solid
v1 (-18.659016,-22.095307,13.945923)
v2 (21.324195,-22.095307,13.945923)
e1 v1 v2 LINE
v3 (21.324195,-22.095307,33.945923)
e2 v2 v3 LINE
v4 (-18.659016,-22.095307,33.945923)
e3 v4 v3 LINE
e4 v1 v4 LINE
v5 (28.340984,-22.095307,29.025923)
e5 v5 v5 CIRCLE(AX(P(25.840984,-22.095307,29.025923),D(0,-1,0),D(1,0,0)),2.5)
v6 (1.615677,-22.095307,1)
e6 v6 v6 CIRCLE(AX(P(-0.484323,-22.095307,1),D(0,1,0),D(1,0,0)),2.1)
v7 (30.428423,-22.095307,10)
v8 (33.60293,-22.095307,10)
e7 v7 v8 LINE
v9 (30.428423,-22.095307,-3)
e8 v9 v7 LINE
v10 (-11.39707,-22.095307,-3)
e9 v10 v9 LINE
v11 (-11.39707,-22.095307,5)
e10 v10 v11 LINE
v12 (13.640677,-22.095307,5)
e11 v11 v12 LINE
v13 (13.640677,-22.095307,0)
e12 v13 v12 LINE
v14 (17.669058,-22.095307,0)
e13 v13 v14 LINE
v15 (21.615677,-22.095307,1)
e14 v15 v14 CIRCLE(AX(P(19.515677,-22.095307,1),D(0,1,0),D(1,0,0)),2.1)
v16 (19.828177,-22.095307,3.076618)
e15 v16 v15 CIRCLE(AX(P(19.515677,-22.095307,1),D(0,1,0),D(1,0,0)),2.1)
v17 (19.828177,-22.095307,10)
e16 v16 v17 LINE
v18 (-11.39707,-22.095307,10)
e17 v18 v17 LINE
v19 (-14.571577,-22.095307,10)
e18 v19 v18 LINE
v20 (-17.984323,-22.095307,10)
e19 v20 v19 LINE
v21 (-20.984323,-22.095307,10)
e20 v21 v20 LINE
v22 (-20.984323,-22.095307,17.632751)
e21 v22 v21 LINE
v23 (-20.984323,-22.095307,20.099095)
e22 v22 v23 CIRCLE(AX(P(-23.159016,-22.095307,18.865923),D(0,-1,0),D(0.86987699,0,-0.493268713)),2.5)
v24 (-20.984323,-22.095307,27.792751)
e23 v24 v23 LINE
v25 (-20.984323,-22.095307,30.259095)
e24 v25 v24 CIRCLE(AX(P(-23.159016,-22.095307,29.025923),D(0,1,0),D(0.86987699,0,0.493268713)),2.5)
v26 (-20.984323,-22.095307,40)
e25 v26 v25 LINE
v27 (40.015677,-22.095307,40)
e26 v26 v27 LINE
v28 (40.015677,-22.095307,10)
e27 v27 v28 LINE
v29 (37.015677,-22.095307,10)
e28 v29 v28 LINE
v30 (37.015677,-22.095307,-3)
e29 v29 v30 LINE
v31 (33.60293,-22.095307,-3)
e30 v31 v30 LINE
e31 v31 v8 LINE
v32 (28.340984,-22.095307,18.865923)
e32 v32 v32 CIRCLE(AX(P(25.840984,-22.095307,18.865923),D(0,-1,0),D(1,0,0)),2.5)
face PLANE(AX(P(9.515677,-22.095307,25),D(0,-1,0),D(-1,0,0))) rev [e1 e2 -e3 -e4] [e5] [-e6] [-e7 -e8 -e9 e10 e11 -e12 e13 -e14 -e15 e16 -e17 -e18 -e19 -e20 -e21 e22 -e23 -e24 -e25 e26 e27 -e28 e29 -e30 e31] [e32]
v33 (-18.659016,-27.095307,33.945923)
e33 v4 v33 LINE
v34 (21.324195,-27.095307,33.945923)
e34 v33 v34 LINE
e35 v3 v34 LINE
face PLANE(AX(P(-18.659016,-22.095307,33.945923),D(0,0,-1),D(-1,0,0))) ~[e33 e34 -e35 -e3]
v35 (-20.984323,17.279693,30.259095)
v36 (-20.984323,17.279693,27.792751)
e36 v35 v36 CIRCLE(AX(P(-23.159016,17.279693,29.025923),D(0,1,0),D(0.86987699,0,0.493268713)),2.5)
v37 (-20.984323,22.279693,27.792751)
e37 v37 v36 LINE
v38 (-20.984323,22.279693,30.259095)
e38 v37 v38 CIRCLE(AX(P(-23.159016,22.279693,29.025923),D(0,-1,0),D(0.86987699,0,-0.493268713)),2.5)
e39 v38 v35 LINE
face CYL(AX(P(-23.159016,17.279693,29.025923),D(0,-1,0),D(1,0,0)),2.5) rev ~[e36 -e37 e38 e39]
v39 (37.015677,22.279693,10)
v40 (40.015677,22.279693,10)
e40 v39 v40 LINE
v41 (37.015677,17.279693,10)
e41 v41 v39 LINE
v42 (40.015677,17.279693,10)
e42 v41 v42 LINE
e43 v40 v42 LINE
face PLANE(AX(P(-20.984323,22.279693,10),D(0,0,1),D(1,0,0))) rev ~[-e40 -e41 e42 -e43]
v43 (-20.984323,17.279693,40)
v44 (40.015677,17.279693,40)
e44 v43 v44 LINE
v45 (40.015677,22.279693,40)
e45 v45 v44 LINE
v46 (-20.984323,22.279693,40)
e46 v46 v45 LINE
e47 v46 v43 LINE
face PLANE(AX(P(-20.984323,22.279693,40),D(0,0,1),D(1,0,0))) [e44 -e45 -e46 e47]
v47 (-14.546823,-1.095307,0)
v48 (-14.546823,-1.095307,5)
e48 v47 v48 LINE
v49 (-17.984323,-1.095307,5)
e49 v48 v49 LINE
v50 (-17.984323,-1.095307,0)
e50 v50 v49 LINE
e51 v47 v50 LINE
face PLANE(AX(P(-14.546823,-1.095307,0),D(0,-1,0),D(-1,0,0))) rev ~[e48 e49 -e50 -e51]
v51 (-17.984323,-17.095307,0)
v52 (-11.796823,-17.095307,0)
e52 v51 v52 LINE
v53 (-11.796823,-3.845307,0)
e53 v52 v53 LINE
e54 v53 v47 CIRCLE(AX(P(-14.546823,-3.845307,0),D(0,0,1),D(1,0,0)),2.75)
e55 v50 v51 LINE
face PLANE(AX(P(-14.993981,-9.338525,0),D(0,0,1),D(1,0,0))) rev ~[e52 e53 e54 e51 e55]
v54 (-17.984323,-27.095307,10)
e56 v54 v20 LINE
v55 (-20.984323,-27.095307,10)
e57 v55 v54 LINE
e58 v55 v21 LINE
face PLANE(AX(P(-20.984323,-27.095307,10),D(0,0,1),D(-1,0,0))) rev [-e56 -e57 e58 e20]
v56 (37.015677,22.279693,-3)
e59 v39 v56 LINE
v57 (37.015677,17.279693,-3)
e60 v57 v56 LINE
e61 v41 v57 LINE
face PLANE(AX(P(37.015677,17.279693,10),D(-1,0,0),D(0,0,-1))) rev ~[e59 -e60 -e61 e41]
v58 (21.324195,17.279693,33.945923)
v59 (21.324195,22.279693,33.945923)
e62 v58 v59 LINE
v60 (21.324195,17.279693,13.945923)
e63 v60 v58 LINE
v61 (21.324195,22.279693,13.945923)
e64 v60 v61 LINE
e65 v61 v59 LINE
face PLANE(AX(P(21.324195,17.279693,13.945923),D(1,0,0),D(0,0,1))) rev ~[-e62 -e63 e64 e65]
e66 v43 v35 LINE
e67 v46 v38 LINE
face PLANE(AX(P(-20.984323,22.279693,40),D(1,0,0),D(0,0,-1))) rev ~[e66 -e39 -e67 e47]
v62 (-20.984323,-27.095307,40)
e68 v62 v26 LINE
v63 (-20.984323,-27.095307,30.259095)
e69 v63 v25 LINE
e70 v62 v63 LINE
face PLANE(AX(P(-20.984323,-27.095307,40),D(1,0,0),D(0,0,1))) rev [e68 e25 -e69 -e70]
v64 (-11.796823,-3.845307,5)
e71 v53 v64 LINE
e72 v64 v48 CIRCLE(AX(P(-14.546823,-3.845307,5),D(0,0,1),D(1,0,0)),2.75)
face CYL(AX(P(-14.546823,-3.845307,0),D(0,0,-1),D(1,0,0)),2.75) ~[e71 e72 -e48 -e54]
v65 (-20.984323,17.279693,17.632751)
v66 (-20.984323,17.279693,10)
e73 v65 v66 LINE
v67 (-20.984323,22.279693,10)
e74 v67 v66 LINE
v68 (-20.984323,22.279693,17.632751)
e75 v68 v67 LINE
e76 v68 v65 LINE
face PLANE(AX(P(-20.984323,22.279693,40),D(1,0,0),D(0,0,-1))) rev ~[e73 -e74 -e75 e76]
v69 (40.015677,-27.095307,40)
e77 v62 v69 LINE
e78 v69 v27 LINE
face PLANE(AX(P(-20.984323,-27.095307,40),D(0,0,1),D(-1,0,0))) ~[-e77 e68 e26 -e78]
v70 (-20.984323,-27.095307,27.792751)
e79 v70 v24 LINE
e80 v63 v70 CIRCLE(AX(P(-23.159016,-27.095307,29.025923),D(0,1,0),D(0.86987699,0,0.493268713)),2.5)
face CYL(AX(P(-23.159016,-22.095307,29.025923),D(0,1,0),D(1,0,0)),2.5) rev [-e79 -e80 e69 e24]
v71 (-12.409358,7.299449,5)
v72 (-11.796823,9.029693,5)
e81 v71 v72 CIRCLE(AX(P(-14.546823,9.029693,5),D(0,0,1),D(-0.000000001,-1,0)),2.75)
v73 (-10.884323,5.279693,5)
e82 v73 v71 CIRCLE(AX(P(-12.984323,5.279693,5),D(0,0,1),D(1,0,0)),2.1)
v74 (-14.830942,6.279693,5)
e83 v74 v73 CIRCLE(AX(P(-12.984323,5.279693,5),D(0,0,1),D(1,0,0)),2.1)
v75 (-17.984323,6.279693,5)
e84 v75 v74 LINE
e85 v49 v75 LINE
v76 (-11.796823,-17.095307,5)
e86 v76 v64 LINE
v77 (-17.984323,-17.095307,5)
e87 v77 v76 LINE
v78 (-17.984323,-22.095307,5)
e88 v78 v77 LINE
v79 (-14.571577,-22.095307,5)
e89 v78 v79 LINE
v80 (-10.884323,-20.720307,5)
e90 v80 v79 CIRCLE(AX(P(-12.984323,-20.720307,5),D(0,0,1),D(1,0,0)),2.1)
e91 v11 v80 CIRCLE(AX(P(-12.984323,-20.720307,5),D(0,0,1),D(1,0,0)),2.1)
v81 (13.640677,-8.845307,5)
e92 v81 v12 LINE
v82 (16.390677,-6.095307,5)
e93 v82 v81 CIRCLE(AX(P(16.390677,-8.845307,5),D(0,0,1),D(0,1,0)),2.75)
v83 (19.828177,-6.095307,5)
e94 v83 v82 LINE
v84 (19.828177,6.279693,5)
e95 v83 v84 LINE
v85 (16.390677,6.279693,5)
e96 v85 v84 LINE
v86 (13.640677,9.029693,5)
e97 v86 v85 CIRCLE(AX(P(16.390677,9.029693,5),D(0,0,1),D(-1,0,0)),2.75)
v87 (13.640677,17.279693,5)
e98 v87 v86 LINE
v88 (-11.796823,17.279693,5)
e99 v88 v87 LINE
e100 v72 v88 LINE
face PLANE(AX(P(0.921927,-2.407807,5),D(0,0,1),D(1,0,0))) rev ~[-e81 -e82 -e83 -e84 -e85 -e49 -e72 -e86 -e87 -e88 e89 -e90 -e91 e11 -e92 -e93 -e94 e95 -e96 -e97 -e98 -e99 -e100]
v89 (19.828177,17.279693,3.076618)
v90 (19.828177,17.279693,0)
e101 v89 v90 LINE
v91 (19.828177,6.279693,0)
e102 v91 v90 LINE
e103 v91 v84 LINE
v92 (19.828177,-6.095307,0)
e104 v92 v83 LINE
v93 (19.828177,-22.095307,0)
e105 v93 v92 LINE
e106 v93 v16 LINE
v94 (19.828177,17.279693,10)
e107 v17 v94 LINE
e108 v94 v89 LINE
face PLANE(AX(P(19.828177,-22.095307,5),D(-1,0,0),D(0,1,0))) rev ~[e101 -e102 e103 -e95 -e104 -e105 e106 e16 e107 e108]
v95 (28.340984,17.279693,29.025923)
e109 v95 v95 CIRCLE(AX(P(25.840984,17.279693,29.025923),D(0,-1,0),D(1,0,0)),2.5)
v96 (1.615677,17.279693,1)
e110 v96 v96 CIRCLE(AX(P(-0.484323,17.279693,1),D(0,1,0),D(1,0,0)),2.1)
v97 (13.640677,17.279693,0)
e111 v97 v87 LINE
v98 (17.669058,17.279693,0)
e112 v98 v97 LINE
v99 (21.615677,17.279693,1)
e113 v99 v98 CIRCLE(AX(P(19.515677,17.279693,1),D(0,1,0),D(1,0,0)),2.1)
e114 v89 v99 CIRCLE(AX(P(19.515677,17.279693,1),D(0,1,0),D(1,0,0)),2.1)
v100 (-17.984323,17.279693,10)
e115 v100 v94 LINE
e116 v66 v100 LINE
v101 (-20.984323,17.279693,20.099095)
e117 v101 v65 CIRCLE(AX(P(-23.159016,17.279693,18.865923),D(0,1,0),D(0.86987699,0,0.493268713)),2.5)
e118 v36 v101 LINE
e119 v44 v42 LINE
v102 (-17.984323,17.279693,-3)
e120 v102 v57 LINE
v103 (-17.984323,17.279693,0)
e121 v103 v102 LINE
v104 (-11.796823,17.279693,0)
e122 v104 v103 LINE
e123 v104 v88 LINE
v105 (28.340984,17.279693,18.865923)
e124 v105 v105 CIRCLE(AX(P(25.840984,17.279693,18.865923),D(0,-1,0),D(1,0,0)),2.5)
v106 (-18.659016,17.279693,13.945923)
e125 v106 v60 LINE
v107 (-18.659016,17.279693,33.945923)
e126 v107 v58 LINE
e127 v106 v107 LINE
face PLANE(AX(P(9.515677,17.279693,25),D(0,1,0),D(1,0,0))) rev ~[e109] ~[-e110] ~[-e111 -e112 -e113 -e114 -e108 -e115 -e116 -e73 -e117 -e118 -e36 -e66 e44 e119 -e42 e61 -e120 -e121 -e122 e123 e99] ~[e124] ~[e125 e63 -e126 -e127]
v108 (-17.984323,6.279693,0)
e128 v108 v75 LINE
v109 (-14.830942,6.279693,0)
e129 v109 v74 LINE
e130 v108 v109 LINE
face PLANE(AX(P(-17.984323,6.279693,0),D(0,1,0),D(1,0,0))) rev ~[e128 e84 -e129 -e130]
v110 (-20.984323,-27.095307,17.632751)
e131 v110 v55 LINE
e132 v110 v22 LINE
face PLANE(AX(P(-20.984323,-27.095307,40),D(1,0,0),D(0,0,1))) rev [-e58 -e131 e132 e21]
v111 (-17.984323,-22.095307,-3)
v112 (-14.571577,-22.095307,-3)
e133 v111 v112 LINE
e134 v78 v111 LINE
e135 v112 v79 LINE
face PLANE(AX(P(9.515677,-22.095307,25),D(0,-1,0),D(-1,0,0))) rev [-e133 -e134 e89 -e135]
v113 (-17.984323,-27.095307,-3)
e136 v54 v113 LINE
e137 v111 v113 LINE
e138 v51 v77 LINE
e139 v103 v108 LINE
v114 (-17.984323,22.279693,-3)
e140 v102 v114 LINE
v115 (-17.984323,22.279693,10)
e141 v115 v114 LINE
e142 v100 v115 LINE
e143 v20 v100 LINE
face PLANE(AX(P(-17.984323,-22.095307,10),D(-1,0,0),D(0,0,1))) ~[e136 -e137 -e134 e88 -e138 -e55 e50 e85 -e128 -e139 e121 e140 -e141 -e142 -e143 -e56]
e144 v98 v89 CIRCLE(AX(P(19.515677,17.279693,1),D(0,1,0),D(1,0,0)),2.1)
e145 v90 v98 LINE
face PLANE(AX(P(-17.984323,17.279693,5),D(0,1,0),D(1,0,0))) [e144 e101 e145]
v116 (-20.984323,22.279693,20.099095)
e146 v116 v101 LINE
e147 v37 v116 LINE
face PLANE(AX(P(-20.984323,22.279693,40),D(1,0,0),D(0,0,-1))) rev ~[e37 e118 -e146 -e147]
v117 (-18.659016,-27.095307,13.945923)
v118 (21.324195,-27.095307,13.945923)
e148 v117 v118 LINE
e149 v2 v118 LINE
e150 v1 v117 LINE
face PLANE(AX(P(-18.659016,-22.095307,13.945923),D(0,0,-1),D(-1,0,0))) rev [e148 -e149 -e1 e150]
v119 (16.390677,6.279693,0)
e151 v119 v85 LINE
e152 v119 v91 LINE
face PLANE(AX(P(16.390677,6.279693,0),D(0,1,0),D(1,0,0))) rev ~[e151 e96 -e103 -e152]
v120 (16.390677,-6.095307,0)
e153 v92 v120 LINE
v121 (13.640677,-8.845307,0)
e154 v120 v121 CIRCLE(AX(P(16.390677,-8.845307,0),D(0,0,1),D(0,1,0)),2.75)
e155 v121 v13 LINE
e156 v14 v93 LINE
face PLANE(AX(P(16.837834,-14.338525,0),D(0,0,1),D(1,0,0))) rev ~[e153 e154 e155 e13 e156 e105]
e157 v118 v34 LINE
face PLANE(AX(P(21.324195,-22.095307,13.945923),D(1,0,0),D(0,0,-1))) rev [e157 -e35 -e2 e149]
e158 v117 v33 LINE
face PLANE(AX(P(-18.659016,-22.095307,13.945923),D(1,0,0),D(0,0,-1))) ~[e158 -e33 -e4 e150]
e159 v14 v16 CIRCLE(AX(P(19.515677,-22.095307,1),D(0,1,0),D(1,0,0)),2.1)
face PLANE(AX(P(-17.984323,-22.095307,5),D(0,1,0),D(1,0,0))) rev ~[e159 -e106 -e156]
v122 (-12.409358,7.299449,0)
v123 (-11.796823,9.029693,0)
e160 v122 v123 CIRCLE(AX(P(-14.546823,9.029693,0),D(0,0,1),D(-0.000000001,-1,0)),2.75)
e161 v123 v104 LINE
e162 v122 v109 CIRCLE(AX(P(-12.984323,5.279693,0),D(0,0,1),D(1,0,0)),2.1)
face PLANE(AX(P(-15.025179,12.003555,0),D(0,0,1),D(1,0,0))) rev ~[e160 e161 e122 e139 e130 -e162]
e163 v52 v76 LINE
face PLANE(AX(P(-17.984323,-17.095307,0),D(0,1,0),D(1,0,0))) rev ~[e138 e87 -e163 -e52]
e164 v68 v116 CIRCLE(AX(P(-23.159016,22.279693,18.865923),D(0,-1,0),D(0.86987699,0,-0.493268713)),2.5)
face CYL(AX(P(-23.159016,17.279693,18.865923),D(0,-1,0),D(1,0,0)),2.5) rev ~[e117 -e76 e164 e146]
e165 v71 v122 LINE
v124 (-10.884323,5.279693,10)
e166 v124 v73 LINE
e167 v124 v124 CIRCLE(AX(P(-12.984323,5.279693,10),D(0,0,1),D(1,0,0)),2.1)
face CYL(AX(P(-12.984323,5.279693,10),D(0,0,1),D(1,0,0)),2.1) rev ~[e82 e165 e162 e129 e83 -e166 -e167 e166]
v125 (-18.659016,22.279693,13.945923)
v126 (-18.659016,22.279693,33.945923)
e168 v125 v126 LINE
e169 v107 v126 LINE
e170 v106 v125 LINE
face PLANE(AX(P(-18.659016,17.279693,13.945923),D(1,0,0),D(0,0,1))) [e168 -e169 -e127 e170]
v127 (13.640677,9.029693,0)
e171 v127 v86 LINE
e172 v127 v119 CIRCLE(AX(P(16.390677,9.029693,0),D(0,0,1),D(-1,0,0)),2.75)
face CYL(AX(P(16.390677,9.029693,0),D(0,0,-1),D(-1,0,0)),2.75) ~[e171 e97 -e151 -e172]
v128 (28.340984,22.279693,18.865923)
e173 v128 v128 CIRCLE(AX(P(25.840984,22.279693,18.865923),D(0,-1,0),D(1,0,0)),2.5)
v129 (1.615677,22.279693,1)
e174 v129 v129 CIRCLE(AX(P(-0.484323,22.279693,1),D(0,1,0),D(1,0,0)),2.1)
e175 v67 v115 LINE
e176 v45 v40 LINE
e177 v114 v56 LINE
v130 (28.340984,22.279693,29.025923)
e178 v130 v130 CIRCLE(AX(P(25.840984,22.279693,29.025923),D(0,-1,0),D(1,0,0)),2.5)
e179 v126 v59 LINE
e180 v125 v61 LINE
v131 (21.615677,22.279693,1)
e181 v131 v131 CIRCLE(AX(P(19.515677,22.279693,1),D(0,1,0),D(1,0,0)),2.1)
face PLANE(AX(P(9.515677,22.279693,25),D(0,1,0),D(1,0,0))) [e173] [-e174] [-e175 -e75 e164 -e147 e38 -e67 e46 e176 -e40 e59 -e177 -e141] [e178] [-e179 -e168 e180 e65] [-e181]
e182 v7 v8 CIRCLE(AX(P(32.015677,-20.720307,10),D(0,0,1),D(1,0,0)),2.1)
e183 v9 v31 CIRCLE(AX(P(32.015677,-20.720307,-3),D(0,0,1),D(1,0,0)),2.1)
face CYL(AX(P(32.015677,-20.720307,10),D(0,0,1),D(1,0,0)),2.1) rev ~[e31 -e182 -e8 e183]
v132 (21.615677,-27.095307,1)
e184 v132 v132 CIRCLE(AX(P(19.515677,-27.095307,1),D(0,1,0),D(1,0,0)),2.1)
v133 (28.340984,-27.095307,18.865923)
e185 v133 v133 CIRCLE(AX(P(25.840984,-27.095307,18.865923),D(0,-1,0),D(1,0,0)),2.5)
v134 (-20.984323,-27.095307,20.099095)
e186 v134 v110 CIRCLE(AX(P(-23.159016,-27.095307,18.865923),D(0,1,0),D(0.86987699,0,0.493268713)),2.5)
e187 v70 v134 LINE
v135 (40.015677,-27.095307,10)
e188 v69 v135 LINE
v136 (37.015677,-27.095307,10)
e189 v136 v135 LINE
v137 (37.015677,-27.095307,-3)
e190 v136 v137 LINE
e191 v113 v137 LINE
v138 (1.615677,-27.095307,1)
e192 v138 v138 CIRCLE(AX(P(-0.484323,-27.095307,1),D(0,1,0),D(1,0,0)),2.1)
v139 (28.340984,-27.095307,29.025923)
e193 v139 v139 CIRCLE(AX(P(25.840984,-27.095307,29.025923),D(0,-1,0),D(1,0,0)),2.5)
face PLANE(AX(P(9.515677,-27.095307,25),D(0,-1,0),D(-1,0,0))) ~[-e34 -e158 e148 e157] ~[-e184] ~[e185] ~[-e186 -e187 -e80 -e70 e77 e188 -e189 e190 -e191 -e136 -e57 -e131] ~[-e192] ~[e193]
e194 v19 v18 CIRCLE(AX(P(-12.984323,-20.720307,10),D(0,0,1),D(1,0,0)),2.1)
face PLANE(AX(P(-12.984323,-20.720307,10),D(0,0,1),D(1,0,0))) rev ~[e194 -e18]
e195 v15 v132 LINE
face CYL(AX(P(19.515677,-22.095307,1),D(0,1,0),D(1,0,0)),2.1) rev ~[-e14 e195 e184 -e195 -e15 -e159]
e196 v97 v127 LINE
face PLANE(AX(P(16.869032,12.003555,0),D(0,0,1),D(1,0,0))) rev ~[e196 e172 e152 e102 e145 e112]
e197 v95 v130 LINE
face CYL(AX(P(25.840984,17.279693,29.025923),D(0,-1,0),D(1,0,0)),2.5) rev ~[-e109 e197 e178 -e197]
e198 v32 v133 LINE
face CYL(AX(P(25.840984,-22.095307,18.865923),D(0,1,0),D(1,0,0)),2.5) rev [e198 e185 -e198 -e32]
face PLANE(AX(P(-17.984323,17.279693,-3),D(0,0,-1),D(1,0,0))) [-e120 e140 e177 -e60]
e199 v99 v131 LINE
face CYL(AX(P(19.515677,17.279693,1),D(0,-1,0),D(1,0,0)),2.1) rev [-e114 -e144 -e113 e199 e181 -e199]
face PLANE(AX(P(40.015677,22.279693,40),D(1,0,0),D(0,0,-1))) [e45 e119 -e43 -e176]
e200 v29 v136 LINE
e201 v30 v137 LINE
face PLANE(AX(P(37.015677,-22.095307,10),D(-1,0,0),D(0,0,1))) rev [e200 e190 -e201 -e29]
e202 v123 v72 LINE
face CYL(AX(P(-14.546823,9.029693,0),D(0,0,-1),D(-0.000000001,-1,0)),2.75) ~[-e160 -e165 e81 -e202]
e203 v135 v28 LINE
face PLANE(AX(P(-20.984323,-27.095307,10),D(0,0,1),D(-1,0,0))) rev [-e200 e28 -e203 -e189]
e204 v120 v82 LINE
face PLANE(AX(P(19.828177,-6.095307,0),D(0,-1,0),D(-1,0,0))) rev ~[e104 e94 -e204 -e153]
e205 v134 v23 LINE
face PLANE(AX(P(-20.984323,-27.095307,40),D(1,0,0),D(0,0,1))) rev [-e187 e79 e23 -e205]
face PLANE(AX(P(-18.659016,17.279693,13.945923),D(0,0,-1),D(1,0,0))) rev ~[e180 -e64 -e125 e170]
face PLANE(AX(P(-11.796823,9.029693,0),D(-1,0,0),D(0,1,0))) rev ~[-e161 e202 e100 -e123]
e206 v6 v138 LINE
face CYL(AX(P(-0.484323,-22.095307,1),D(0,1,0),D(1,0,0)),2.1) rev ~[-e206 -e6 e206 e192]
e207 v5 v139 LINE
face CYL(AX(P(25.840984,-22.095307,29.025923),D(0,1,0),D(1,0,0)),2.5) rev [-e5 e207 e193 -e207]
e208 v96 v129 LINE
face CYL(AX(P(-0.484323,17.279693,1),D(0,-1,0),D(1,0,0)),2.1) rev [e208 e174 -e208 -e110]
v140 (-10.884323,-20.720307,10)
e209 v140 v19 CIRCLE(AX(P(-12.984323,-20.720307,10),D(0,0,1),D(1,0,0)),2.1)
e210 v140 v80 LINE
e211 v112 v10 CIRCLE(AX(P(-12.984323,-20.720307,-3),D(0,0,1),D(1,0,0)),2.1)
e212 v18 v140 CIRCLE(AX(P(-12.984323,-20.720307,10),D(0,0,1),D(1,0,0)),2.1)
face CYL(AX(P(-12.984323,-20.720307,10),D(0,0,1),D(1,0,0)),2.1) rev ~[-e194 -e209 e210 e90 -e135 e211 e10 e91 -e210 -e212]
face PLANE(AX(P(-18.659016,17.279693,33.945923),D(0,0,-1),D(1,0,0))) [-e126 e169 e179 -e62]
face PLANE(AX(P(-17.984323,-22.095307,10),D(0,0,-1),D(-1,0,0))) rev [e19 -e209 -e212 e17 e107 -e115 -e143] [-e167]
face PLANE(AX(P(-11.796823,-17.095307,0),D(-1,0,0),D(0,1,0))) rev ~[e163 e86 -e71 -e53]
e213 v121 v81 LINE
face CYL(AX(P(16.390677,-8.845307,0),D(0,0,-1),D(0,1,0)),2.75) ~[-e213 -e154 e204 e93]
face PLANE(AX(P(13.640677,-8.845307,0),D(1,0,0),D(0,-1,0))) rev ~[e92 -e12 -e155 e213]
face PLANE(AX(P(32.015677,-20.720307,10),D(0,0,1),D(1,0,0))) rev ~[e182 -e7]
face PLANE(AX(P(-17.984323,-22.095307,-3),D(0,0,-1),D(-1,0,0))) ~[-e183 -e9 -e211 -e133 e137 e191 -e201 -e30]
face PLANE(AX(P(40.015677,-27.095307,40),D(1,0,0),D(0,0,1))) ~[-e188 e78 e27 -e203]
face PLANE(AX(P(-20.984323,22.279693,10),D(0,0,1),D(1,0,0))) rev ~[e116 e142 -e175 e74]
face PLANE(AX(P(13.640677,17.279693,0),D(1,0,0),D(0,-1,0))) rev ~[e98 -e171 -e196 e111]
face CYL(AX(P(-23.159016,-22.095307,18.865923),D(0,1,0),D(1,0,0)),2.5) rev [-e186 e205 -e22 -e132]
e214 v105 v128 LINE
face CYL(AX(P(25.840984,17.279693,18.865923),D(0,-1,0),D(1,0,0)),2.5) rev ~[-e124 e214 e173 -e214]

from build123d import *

# Parameters (mm, degrees)
BOSS_EXTRUDE1_DEPTH   = 5
BOSS_EXTRUDE1_2_DEPTH = 5
BOSS_EXTRUDE1_3_DEPTH = 5
BOSS_EXTRUDE1_4_DEPTH = 5
SKETCH2_W             = 37.8125
SKETCH2_H             = 39.375
BOSS_EXTRUDE2_DEPTH   = 5
SKETCH3_W             = 55
SKETCH3_H             = 13
SKETCH3_R             = 2.1
BOSS_EXTRUDE3_DEPTH   = 5
SKETCH4_W             = 61
SKETCH4_H             = 30
BOSS_EXTRUDE4_DEPTH   = 5
SKETCH5_R             = 2.5
SKETCH5_W             = 39.983210939
SKETCH5_H             = 20
CUT_EXTRUDE3_DEPTH    = 5
SKETCH7_R             = 2.1
CUT_EXTRUDE4_DEPTH    = 14


with BuildPart() as part:
    # Sketch1 → Boss-Extrude1 (new body)
    with BuildSketch(Plane.XY):
        with BuildLine():
            Line((16.390676557, 6.279692656), (19.828176557, 6.279692656))
            Line((19.828176557, 6.279692656), (19.828176557, 17.279692656))
            Line((19.828176557, 17.279692656), (13.640676557, 17.279692656))
            Line((13.640676557, 17.279692656), (13.640676557, 9.029692656))
            ThreePointArc((13.640676557, 9.029692656), (14.446132909, 7.085149007), (16.390676557, 6.279692656))
        make_face()
    extrude(amount=BOSS_EXTRUDE1_DEPTH)



with BuildPart() as body_2:
    # Sketch1 → Boss-Extrude1 2 (new body)
    with BuildSketch(Plane.XY):
        with BuildLine():
            Line((-17.984323443, 6.279692656), (-14.546823443, 6.279692656))
            ThreePointArc((-14.546823443, 6.279692656), (-12.602279794, 7.085149007), (-11.796823443, 9.029692656))
            Line((-11.796823443, 9.029692656), (-11.796823443, 17.279692656))
            Line((-11.796823443, 17.279692656), (-17.984323443, 17.279692656))
            Line((-17.984323443, 17.279692656), (-17.984323443, 6.279692656))
        make_face()
    extrude(amount=BOSS_EXTRUDE1_2_DEPTH)


with BuildPart() as body_3:
    # Sketch1 → Boss-Extrude1 3 (new body)
    with BuildSketch(Plane.XY):
        with BuildLine():
            Line((19.828176557, -6.095307344), (16.390676557, -6.095307344))
            ThreePointArc((16.390676557, -6.095307344), (14.446132909, -6.900763696), (13.640676557, -8.845307344))
            Line((13.640676557, -8.845307344), (13.640676557, -22.095307344))
            Line((13.640676557, -22.095307344), (19.828176557, -22.095307344))
            Line((19.828176557, -22.095307344), (19.828176557, -6.095307344))
        make_face()
    extrude(amount=BOSS_EXTRUDE1_3_DEPTH)


with BuildPart() as body_4:
    # Sketch1 → Boss-Extrude1 4 (new body)
    with BuildSketch(Plane.XY):
        with BuildLine():
            Line((-11.796823443, -17.095307344), (-11.796823443, -3.845307344))
            ThreePointArc((-11.796823443, -3.845307344), (-12.602279794, -1.900763696), (-14.546823443, -1.095307344))
            Line((-14.546823443, -1.095307344), (-17.984323443, -1.095307344))
            Line((-17.984323443, -1.095307344), (-17.984323443, -17.095307344))
            Line((-17.984323443, -17.095307344), (-11.796823443, -17.095307344))
        make_face()
    extrude(amount=BOSS_EXTRUDE1_4_DEPTH)


with BuildPart() as part_1:
    add(part.part)

    add(body_2.part)  # Boss-Extrude2 merges body 2

    add(body_3.part)  # Boss-Extrude2 merges body 3

    add(body_4.part)  # Boss-Extrude2 merges body 4
    # Sketch2 → Boss-Extrude2 (add)
    with BuildSketch(Plane.XY.offset(5)):
        with Locations((0.921926557, -2.407807344)):
            Rectangle(SKETCH2_W, SKETCH2_H)
    extrude(amount=BOSS_EXTRUDE2_DEPTH)

    # Sketch3 → Boss-Extrude3 (add)
    with BuildSketch(Plane(origin=(0, 17.279692656, 0), x_dir=(1, 0, 0), z_dir=(0, 1, 0))):
        with Locations((9.515676557, -3.5)):
            Rectangle(SKETCH3_W, SKETCH3_H)
        with Locations((-0.484323443, -1)):
            Circle(SKETCH3_R, mode=Mode.SUBTRACT)
        with Locations((19.515676557, -1)):
            Circle(SKETCH3_R, mode=Mode.SUBTRACT)
    boss_extrude3 = extrude(amount=BOSS_EXTRUDE3_DEPTH)

    # Mirror1: Boss-Extrude3 across plane
    add(boss_extrude3.mirror(Plane(origin=(0, -2.407807344, 0), x_dir=(0, 0, 1), z_dir=(0, -1, 0))))

    # Sketch4 → Boss-Extrude4 (add)
    with BuildSketch(Plane(origin=(0, 22.279692656, 0), x_dir=(1, 0, 0), z_dir=(0, 1, 0))):
        with Locations((9.515676557, -25)):
            Rectangle(SKETCH4_W, SKETCH4_H)
    boss_extrude4 = extrude(amount=-BOSS_EXTRUDE4_DEPTH)

    # Mirror2: Boss-Extrude4 across plane
    add(boss_extrude4.mirror(Plane(origin=(0, -2.407807344, 0), x_dir=(0, 0, 1), z_dir=(0, -1, 0))))

    # Sketch5 → Cut-Extrude3 (cut)
    with BuildSketch(Plane.XZ.offset(-17.279692656)):
        with Locations((-23.159015917, 29.025922811)):
            Circle(SKETCH5_R)
        with Locations((-23.159015917, 18.865922811)):
            Circle(SKETCH5_R)
        with Locations((25.840984083, 29.025922811)):
            Circle(SKETCH5_R)
        with Locations((25.840984083, 18.865922811)):
            Circle(SKETCH5_R)
        with Locations((1.332589552, 23.945922811)):
            Rectangle(SKETCH5_W, SKETCH5_H)
    cut_extrude3 = extrude(amount=-CUT_EXTRUDE3_DEPTH, mode=Mode.SUBTRACT)

    # Sketch7 → Cut-Extrude4 (cut, through all)
    with BuildSketch(Plane.XY.offset(10)):
        with Locations((32.015676557, -20.720307344)):
            Circle(SKETCH7_R)
        with Locations((-12.984323443, -20.720307344)):
            Circle(SKETCH7_R)
        with Locations((32.015676557, 5.279692656)):
            Circle(SKETCH7_R)
        with Locations((-12.984323443, 5.279692656)):
            Circle(SKETCH7_R)
    extrude(amount=-CUT_EXTRUDE4_DEPTH, mode=Mode.SUBTRACT)

    # Mirror3: Cut-Extrude3 across plane
    add(cut_extrude3.mirror(Plane(origin=(0, -2.407807344, 0), x_dir=(0, 0, 1), z_dir=(0, -1, 0))), mode=Mode.SUBTRACT)


solid = part_1.part
